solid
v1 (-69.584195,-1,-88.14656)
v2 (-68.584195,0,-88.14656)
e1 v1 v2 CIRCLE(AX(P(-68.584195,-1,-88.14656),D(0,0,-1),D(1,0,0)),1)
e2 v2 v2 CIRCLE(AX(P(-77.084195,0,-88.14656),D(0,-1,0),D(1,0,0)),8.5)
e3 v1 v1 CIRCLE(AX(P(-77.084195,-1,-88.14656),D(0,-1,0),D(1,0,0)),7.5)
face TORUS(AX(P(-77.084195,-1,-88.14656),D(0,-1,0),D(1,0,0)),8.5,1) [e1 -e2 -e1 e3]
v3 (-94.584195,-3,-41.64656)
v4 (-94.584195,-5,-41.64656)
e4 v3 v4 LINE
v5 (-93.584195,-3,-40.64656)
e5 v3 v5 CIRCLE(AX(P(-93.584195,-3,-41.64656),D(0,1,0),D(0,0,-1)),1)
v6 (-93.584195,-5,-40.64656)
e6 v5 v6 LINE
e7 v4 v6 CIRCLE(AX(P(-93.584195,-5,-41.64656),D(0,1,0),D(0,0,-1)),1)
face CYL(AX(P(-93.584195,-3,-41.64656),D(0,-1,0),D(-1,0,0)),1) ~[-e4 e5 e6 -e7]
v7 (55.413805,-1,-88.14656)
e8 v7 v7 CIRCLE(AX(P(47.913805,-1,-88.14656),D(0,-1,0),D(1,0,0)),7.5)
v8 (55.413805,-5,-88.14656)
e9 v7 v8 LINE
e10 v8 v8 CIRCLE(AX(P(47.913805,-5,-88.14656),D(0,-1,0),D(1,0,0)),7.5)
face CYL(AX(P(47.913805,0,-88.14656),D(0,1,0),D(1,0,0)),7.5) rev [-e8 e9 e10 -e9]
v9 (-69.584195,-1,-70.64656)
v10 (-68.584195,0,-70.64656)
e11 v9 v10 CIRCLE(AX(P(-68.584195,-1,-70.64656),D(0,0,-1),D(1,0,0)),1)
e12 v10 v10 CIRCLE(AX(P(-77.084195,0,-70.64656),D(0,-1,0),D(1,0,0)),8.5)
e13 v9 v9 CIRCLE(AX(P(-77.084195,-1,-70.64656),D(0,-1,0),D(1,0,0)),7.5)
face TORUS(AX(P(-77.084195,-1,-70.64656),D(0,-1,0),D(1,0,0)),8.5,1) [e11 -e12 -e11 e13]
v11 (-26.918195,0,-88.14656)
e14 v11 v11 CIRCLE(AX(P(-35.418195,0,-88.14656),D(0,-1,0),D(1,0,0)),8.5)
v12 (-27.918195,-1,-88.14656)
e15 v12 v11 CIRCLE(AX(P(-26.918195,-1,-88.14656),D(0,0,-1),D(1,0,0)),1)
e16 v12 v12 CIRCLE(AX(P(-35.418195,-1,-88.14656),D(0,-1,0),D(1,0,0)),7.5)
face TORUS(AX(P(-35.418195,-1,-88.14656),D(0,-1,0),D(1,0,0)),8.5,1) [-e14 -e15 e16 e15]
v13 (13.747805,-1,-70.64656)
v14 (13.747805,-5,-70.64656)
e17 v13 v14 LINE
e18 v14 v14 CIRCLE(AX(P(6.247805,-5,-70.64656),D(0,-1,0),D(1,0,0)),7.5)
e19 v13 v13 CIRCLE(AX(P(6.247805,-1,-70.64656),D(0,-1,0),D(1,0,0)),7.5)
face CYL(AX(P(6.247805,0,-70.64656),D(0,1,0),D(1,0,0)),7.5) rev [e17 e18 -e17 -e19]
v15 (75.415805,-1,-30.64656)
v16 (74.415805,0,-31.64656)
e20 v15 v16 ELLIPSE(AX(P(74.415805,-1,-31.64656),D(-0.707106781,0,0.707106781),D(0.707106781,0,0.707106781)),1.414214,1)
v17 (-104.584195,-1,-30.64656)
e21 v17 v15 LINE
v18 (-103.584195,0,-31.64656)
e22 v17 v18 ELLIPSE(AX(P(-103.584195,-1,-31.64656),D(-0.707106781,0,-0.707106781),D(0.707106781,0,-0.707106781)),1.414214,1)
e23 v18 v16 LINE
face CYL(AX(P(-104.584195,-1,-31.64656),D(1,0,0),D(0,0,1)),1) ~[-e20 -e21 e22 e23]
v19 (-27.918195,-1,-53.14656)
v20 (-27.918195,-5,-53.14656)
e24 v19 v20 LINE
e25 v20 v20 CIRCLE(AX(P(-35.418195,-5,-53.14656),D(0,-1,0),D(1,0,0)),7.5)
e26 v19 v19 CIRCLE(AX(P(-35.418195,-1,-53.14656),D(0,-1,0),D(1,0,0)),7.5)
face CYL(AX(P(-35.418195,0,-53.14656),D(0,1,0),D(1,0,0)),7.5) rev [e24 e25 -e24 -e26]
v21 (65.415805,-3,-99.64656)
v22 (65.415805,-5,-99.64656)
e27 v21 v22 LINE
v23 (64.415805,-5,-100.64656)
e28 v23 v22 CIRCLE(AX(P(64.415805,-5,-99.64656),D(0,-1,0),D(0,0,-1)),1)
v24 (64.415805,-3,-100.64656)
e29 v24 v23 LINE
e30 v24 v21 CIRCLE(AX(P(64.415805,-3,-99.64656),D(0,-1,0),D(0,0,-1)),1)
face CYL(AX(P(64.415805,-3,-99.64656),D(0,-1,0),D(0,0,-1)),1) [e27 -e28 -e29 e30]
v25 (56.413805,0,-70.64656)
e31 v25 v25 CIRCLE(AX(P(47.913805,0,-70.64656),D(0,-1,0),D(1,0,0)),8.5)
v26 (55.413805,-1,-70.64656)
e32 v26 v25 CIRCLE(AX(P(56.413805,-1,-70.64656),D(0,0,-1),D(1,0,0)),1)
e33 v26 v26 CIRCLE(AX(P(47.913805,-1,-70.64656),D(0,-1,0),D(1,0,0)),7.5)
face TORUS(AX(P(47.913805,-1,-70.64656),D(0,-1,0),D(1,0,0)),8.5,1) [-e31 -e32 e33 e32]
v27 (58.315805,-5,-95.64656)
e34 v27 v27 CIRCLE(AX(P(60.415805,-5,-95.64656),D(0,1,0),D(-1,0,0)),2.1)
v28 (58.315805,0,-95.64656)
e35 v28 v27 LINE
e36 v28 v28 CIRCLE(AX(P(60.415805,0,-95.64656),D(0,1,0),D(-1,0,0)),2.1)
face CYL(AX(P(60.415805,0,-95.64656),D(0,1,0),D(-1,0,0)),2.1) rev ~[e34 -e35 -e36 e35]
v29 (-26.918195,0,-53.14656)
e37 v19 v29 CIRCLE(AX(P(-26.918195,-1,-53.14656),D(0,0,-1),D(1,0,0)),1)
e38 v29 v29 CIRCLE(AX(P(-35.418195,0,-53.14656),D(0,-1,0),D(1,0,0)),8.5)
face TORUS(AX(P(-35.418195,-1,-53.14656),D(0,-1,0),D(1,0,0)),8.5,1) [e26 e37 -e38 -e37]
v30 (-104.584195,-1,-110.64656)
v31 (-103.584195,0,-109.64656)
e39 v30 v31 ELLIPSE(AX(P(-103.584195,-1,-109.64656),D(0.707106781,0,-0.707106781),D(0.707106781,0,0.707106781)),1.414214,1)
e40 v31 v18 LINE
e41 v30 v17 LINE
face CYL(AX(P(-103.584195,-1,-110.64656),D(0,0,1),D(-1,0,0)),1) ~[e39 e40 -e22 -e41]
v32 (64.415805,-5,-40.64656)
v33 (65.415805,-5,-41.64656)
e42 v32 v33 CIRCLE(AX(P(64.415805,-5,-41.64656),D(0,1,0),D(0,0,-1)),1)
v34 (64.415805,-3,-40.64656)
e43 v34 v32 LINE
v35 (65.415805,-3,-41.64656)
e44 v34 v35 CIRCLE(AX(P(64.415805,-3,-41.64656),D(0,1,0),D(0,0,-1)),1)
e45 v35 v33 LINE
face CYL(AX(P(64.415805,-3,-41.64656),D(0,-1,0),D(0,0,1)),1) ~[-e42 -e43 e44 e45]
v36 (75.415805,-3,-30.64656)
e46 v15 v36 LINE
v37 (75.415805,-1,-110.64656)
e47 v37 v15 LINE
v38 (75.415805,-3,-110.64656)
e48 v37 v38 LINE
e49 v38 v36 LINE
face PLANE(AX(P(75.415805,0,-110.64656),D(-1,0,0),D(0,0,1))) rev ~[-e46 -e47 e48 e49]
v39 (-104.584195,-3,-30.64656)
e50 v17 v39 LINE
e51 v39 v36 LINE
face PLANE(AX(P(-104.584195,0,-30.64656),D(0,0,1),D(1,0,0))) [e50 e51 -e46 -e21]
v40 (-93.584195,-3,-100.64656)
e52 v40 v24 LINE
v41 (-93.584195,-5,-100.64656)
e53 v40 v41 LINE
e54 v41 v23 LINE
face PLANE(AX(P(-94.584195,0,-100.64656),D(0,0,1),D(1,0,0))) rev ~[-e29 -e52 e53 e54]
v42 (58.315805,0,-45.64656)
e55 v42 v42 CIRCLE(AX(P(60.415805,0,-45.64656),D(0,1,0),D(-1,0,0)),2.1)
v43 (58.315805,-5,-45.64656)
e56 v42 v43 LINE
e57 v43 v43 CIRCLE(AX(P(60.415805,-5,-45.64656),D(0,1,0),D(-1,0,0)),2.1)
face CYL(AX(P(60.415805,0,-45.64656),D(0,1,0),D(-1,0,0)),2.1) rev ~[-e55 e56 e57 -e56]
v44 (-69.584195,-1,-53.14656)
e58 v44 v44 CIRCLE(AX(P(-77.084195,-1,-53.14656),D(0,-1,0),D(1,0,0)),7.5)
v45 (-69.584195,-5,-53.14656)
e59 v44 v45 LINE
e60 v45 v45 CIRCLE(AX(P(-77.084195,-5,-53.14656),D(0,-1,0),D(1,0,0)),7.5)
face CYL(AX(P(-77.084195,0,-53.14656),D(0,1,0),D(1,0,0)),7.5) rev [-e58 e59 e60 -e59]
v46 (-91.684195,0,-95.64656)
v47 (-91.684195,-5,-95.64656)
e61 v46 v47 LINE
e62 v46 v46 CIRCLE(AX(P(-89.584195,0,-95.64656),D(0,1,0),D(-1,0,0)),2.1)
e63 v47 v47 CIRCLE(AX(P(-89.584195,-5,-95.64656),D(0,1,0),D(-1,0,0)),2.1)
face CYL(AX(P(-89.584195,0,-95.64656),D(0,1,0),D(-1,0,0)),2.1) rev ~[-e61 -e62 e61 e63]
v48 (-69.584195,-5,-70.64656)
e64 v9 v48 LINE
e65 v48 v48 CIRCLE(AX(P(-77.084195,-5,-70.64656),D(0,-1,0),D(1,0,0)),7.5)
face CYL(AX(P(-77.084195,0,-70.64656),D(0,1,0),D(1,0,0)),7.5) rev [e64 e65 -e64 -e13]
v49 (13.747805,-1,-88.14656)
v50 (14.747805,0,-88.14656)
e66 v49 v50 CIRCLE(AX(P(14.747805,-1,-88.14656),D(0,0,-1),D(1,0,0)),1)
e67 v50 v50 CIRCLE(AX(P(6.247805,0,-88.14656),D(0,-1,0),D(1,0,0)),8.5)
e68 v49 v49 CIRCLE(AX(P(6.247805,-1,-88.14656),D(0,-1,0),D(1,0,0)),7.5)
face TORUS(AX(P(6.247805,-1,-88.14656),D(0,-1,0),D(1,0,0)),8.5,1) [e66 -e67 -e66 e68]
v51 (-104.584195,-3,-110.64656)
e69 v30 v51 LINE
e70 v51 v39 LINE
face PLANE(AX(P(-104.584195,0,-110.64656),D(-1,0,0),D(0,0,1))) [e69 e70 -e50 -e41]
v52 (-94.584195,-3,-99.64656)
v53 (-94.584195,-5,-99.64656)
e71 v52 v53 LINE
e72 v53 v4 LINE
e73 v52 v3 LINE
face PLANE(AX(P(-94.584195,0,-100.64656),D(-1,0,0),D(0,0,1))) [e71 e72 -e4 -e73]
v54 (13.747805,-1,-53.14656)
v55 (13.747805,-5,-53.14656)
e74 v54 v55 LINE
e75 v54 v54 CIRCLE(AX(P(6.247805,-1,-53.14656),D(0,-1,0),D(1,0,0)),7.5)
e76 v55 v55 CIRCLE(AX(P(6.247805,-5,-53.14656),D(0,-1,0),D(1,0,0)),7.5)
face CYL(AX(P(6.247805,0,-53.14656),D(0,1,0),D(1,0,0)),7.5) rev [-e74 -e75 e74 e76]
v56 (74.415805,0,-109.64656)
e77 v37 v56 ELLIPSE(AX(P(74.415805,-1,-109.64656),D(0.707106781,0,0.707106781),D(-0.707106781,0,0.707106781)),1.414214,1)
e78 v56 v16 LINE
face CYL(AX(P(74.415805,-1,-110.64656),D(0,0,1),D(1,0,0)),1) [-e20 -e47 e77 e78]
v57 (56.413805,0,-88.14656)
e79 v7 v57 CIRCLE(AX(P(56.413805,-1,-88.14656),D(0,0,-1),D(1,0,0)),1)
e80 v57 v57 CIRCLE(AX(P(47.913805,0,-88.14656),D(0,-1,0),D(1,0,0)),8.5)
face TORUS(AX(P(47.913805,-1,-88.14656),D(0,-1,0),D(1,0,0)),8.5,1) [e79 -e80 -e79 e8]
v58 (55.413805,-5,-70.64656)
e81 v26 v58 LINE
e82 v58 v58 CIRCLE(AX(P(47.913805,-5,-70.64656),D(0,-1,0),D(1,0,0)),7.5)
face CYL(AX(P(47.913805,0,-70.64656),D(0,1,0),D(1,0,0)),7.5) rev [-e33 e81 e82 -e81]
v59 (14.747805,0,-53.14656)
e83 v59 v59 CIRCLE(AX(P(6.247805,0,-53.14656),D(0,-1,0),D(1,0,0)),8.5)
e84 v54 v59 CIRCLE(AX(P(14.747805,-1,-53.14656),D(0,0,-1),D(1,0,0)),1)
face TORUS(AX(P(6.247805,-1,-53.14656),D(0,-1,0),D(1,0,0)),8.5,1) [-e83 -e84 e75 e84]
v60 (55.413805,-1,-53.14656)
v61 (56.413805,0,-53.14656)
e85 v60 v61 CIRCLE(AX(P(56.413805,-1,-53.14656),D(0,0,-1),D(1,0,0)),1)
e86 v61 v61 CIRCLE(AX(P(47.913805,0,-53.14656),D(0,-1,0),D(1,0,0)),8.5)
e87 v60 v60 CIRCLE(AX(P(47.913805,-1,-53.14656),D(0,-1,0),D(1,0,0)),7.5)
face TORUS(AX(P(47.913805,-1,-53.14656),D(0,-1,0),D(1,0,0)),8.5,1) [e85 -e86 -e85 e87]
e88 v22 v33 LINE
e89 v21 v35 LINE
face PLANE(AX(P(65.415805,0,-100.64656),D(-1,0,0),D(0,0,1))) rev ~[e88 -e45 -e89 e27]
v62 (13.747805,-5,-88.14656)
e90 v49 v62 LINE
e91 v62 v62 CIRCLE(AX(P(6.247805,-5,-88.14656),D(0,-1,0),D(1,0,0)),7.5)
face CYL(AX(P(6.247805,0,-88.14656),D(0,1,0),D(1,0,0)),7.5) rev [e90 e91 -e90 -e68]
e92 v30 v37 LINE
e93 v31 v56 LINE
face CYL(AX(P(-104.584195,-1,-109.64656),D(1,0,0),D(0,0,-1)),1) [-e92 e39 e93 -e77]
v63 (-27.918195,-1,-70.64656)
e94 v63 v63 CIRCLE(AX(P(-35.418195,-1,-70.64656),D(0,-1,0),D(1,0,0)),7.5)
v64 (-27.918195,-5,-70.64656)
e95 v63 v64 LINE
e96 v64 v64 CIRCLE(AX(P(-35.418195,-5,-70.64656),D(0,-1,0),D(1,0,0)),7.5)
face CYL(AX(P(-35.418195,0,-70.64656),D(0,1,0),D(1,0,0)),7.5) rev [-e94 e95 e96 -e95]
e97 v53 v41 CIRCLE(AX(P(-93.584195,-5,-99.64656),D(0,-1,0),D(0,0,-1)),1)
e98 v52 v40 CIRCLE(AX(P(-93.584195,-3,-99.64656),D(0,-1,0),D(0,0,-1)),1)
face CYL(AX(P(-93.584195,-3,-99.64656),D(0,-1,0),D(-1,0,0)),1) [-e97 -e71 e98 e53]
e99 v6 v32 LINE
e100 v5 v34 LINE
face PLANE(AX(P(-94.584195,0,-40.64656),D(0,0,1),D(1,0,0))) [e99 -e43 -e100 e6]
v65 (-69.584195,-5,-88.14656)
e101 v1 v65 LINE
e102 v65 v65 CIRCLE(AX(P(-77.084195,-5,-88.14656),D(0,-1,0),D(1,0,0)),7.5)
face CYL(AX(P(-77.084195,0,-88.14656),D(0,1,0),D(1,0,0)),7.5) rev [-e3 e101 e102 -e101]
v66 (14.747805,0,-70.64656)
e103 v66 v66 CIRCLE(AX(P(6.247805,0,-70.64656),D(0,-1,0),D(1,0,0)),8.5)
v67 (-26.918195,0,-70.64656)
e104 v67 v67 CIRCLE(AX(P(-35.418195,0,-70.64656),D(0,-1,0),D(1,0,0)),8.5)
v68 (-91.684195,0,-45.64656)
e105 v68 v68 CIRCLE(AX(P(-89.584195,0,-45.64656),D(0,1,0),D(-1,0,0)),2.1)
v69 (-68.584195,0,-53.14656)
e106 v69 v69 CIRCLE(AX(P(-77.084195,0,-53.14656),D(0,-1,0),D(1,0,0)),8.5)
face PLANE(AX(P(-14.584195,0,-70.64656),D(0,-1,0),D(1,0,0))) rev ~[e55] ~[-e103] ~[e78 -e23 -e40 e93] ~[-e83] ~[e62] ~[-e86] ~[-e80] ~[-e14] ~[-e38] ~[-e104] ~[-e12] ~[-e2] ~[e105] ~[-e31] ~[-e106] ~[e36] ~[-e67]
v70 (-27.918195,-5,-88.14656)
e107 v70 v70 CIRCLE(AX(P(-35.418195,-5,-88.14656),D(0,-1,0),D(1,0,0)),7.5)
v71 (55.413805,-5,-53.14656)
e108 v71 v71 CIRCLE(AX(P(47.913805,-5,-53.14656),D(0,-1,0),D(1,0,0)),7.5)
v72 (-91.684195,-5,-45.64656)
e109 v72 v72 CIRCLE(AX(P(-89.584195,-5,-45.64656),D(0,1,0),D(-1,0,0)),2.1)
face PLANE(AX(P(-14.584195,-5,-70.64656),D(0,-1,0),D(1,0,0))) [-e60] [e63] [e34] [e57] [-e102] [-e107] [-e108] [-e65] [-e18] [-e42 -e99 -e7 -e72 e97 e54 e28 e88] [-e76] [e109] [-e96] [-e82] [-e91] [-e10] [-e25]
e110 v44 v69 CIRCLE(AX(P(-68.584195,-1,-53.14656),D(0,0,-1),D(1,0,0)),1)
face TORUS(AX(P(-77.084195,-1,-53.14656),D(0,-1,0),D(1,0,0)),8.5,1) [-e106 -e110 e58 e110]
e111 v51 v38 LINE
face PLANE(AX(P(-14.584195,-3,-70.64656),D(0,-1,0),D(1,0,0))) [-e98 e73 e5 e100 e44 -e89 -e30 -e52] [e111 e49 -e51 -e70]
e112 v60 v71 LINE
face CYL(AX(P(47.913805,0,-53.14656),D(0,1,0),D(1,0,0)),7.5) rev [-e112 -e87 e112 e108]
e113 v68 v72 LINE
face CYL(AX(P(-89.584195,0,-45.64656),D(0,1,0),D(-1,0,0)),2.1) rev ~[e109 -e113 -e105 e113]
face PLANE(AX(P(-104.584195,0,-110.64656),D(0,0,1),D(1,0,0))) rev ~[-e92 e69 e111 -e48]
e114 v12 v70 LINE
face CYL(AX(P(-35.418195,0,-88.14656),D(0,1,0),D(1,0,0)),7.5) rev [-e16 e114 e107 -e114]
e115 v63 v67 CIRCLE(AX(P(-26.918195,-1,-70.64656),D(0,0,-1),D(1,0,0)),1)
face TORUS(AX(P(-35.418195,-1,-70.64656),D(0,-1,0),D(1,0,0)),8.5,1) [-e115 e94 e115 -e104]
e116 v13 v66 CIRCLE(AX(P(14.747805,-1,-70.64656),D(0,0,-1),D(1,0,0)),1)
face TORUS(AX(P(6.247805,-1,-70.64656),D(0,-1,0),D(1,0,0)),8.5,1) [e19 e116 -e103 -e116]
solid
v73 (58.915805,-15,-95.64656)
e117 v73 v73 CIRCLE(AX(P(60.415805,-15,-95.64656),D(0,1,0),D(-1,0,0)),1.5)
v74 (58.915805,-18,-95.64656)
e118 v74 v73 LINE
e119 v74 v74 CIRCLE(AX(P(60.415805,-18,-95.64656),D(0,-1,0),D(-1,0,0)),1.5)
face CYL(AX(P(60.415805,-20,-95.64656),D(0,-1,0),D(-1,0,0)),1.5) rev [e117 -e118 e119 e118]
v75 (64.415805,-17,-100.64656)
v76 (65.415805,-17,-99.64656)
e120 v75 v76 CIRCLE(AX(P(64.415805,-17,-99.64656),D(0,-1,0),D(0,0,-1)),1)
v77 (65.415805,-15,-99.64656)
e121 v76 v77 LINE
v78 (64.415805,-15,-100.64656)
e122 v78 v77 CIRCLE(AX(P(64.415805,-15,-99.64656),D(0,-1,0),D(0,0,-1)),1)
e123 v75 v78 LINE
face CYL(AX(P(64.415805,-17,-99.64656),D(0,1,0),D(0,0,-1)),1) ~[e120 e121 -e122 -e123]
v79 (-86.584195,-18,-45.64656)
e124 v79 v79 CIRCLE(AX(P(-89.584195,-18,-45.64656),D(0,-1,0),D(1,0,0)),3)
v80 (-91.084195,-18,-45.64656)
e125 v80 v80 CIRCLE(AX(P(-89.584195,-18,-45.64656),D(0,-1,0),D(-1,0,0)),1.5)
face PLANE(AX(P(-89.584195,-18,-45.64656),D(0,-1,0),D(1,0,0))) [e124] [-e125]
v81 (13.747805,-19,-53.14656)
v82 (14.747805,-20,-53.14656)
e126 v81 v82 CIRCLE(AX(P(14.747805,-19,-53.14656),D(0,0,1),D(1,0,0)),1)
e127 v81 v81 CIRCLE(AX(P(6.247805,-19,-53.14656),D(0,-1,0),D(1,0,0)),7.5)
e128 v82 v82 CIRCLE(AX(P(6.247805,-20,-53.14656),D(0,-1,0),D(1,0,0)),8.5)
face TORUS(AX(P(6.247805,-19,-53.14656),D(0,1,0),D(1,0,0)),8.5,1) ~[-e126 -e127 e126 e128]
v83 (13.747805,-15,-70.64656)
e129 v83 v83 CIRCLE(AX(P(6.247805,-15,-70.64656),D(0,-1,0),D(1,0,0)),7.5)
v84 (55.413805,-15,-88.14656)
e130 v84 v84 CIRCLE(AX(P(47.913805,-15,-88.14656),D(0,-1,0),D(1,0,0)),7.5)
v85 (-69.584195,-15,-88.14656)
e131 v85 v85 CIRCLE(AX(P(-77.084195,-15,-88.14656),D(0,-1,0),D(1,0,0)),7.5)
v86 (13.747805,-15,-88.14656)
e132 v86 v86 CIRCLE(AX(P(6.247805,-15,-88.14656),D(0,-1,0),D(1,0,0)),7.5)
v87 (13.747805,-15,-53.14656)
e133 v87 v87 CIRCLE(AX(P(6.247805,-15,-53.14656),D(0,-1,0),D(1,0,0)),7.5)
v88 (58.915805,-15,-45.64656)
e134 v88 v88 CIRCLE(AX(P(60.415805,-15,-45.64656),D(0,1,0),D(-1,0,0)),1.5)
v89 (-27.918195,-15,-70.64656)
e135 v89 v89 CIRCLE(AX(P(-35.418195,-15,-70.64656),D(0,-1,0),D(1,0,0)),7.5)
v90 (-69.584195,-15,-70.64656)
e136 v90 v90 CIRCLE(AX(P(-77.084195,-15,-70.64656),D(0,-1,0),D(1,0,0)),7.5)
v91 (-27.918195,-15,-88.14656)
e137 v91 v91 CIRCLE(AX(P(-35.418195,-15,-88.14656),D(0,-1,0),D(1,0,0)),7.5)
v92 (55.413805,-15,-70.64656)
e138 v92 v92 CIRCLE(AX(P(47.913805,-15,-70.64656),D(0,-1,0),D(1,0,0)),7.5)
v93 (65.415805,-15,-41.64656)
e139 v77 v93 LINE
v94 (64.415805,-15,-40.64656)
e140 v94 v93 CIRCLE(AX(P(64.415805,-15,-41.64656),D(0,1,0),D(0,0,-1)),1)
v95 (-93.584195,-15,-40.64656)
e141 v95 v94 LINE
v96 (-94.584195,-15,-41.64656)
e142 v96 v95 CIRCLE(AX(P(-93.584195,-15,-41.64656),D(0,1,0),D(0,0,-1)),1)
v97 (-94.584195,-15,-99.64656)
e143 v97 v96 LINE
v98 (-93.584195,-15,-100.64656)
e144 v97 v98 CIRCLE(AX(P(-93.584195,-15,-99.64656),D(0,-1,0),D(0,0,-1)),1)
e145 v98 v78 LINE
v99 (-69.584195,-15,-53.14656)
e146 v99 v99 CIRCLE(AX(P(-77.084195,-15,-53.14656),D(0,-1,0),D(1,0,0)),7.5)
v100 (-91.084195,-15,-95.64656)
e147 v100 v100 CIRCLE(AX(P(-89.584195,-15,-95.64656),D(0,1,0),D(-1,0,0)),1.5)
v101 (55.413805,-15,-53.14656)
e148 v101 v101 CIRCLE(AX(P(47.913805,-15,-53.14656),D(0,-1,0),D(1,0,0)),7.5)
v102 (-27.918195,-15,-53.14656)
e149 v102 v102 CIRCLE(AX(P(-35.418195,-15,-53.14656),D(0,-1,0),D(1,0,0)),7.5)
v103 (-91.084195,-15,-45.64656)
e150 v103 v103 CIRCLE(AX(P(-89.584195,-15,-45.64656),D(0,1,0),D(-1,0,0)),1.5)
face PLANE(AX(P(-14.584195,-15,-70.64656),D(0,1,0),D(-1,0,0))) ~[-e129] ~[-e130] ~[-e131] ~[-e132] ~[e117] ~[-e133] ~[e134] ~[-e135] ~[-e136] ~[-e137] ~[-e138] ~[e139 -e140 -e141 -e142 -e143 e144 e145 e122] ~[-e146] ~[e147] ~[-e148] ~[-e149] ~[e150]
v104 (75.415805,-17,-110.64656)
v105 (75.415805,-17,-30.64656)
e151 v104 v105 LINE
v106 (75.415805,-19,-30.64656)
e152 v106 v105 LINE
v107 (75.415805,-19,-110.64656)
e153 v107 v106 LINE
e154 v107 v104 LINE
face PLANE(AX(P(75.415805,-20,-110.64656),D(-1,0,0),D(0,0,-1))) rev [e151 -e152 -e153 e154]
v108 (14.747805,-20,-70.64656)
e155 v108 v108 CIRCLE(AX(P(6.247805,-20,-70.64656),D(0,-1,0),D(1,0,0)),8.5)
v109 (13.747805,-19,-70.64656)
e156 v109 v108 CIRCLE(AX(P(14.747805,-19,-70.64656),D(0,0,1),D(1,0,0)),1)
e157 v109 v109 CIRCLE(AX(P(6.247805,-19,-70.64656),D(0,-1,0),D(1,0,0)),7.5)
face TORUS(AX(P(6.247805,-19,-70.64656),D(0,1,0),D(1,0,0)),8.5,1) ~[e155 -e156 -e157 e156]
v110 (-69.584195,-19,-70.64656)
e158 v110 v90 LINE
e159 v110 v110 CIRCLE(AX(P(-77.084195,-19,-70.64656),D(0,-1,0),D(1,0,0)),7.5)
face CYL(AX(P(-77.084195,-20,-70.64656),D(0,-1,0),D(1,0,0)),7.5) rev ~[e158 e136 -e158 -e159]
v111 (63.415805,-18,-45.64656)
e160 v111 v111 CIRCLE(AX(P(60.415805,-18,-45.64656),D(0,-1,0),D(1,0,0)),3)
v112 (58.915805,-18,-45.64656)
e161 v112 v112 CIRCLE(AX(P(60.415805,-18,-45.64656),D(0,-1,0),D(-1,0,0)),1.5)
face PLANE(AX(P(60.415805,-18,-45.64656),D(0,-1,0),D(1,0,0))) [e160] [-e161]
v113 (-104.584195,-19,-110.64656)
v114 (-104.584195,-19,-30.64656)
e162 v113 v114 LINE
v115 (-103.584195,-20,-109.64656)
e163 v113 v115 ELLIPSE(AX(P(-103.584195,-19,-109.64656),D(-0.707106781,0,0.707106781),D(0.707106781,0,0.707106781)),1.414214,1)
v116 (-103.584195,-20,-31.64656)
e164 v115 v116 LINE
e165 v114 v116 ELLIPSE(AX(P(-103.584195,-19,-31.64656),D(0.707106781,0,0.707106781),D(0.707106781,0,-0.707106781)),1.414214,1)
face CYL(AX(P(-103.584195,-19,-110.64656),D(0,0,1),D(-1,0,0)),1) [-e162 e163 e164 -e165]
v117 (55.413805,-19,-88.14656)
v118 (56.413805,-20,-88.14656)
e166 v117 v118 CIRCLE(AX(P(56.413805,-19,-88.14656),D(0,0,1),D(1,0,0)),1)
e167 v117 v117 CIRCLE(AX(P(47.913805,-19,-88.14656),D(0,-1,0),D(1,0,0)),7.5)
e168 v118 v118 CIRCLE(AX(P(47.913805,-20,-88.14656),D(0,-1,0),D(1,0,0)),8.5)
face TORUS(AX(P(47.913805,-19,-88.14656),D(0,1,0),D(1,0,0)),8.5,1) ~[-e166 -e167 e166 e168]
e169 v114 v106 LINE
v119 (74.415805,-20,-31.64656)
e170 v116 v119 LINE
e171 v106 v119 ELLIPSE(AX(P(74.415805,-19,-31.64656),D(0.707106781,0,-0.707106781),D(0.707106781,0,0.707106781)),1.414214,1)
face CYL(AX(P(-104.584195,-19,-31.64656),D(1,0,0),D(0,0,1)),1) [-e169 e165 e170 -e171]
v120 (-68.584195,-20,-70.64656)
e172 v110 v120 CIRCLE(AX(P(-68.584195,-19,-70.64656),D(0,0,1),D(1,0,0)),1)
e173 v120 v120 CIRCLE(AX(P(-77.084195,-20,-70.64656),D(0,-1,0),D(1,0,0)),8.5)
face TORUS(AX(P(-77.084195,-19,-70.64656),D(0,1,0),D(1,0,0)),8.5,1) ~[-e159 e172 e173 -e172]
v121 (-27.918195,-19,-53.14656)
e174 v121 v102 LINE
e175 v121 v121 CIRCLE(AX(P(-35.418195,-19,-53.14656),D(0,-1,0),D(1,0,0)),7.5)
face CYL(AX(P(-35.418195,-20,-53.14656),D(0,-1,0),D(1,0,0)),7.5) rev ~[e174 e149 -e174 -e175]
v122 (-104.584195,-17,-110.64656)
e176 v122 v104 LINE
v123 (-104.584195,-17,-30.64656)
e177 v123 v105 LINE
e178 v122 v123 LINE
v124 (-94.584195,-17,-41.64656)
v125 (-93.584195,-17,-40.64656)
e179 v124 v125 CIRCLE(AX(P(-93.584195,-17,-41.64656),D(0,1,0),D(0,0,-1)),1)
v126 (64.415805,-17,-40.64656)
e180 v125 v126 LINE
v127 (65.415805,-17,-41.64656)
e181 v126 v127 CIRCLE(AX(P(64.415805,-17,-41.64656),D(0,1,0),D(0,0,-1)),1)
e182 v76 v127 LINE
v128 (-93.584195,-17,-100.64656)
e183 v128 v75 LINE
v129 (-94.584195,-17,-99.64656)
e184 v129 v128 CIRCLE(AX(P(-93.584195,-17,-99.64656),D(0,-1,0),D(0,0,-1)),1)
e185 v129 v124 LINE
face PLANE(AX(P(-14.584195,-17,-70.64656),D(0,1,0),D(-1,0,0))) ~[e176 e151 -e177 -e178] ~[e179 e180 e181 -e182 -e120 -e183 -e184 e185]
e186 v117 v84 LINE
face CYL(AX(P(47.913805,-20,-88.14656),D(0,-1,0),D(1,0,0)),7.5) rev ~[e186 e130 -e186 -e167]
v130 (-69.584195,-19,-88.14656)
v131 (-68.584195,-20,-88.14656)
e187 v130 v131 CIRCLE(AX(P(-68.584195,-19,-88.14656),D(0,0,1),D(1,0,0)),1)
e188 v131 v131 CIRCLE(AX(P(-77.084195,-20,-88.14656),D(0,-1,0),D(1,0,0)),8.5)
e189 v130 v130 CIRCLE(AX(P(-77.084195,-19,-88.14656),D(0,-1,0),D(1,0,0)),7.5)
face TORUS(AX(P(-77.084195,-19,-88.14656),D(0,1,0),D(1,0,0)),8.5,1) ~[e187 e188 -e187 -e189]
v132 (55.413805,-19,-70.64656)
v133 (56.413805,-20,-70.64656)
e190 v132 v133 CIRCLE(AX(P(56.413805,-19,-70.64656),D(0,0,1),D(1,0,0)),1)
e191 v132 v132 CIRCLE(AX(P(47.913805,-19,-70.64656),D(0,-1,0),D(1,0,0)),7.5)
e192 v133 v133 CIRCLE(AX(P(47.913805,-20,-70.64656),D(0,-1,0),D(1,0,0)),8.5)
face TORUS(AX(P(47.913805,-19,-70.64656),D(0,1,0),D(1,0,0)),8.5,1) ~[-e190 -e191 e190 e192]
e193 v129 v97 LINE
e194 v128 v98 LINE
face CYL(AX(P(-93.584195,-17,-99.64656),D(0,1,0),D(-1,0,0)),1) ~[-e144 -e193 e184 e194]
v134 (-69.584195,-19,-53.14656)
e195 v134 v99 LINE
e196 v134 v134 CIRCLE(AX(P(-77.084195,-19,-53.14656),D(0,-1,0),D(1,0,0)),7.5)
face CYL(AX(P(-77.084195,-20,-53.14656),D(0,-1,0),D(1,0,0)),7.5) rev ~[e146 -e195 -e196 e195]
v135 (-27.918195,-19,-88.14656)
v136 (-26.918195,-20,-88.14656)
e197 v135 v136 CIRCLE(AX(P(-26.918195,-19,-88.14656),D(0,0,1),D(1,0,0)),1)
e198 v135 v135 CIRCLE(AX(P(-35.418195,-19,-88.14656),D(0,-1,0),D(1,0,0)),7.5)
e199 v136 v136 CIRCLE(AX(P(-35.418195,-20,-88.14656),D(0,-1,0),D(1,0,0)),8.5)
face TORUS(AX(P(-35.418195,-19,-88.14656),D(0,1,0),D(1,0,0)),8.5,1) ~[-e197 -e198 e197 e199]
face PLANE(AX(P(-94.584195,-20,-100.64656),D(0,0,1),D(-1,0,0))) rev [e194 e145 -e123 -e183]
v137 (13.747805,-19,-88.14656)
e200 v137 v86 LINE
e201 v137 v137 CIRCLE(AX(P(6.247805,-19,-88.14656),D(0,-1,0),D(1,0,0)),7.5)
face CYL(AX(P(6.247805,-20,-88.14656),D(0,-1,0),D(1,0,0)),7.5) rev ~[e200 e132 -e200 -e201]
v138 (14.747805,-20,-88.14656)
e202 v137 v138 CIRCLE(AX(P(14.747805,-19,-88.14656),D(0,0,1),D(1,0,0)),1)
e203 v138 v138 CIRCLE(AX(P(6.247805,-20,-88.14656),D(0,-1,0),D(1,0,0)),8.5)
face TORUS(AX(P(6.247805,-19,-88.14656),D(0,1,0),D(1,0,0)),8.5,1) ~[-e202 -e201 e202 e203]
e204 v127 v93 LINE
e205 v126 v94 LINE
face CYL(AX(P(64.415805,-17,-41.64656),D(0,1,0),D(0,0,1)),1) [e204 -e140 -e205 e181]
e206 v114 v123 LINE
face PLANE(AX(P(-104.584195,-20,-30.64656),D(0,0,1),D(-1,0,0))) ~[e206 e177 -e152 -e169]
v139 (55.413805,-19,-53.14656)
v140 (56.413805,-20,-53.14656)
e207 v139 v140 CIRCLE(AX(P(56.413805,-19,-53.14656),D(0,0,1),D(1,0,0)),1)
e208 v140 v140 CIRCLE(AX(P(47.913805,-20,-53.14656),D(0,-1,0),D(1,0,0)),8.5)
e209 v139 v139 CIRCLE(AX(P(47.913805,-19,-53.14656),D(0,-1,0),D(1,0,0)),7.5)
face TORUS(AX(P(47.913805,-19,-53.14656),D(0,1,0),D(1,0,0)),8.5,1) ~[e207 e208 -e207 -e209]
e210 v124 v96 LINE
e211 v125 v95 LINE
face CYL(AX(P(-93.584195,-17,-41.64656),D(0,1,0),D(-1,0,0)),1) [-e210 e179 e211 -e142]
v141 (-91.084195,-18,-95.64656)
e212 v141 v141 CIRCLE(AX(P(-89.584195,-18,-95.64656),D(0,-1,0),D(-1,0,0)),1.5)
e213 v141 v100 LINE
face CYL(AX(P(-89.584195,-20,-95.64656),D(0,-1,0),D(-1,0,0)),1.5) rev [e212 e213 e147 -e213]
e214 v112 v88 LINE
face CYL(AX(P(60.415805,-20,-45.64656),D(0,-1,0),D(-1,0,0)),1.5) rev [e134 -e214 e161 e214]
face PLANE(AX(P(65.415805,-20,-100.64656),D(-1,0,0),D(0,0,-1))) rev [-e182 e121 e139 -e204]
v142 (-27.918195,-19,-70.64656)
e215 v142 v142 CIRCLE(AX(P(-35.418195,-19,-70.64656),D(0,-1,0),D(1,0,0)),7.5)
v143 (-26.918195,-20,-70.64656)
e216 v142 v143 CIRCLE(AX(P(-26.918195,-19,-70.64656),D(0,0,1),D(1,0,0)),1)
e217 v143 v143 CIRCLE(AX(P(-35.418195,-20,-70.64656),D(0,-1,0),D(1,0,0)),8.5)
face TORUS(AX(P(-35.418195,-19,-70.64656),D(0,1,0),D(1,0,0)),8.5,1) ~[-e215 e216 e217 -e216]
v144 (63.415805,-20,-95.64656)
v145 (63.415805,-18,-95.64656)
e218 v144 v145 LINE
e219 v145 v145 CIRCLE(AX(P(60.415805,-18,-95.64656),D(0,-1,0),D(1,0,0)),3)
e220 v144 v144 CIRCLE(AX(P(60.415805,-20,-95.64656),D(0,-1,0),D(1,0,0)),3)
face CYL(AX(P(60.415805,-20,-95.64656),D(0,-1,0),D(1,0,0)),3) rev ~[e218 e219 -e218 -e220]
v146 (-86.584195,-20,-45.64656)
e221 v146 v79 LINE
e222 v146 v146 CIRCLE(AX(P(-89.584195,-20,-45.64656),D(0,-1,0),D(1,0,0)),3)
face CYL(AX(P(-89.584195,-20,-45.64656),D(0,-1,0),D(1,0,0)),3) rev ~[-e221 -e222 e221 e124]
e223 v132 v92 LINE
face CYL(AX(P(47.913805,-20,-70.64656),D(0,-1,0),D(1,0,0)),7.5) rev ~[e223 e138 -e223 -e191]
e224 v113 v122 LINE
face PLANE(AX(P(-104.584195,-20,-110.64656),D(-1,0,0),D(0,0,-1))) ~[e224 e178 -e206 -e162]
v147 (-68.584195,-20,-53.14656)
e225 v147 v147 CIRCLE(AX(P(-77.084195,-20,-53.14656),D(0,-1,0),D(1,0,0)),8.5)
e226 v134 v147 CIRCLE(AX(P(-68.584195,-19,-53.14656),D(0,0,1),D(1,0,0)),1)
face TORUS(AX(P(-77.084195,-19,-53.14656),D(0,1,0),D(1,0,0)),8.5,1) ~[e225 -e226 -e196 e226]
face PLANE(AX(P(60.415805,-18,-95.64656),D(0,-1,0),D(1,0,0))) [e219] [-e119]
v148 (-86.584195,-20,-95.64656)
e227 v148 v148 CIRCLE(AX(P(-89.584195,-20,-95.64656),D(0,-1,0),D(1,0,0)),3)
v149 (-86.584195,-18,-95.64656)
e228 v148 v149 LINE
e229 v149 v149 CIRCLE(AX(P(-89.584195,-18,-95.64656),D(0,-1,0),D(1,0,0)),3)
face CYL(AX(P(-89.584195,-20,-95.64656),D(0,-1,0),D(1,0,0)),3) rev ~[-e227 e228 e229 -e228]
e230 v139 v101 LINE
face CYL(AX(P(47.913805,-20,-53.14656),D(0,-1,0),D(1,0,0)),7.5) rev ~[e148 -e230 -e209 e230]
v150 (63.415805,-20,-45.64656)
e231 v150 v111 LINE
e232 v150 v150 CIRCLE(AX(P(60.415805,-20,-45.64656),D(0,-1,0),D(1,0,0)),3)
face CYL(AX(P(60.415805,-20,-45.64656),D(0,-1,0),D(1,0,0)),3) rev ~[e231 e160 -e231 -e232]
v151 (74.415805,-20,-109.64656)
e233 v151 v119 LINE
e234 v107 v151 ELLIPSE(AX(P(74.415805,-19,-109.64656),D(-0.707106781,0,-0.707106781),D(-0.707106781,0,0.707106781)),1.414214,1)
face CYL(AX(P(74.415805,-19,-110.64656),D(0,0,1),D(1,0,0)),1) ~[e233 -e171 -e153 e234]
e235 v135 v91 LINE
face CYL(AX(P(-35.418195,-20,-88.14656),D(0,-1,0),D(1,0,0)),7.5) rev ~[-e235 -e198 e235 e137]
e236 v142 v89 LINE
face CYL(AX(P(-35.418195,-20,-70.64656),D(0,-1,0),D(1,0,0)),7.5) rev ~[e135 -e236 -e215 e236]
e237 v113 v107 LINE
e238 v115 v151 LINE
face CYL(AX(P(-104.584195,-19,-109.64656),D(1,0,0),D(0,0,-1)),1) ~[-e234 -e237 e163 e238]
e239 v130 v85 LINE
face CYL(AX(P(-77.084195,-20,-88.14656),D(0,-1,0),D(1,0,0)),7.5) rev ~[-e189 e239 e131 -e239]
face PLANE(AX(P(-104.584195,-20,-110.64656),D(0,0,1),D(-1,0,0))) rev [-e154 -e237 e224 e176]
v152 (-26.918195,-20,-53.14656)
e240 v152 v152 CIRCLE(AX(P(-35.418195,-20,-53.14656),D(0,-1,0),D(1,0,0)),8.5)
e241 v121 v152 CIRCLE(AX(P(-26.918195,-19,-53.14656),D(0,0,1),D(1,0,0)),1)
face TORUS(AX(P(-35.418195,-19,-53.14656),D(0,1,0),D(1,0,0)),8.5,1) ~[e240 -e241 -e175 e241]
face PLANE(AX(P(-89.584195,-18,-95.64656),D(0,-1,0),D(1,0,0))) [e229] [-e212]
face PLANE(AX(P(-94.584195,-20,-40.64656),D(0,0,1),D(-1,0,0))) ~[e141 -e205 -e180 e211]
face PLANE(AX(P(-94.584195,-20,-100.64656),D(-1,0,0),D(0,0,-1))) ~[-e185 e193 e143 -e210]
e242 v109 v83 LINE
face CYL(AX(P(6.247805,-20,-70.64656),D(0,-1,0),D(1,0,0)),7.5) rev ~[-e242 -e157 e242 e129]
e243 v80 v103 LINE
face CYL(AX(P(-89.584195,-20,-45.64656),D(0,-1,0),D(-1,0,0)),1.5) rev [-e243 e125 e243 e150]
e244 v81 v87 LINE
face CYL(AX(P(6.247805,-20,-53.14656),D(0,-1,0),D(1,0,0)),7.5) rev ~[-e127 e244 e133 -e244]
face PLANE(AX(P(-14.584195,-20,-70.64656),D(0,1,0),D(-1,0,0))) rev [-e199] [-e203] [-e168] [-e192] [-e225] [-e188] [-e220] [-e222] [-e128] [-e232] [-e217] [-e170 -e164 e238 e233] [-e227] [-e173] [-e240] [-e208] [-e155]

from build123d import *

# Parameters (mm, degrees)
F0_W      = 180
F0_H      = 80
F0_W_2    = 160
F0_H_2    = 60
F2_DEPTH  = 3
F1_W      = 160
F1_H      = 60
F1_R      = 7.5
F3_DEPTH  = 5
F4_R      = 1
F5_R      = 1
F6_R      = 1.5
F7_DEPTH  = 5.001
F10_R     = 2.1
F11_DEPTH = 5
F12_R     = 3
F13_DEPTH = 2


with BuildPart() as f2:
    # F0 (on Front) → F2 (new body)
    with BuildSketch(Plane.XZ):
        with Locations((-14.5841947198, -70.646559976)):
            Rectangle(F0_W, F0_H)
        with Locations((-14.5841947198, -70.646559976)):
            Rectangle(F0_W_2, F0_H_2, mode=Mode.SUBTRACT)
    extrude(amount=F2_DEPTH)

    # F1 (on face) → F3 (join)
    with BuildSketch(Plane.XZ):
        with Locations((-14.5841947198, -70.646559976)):
            Rectangle(F1_W, F1_H)
        with Locations((-77.0841947198, -88.146559976)):
            Circle(F1_R, mode=Mode.SUBTRACT)
        with Locations((-77.0841947198, -70.646559976)):
            Circle(F1_R, mode=Mode.SUBTRACT)
        with Locations((-35.4181947198, -88.146559976)):
            Circle(F1_R, mode=Mode.SUBTRACT)
        with Locations((-35.4181947198, -70.646559976)):
            Circle(F1_R, mode=Mode.SUBTRACT)
        with Locations((6.2478052802, -88.146559976)):
            Circle(F1_R, mode=Mode.SUBTRACT)
        with Locations((6.2478052802, -70.646559976)):
            Circle(F1_R, mode=Mode.SUBTRACT)
        with Locations((47.9138052802, -88.146559976)):
            Circle(F1_R, mode=Mode.SUBTRACT)
        with Locations((47.9138052802, -70.646559976)):
            Circle(F1_R, mode=Mode.SUBTRACT)
        with Locations((-77.0841947198, -53.146559976)):
            Circle(F1_R, mode=Mode.SUBTRACT)
        with Locations((-35.4181947198, -53.146559976)):
            Circle(F1_R, mode=Mode.SUBTRACT)
        with Locations((6.2478052802, -53.146559976)):
            Circle(F1_R, mode=Mode.SUBTRACT)
        with Locations((47.9138052802, -53.146559976)):
            Circle(F1_R, mode=Mode.SUBTRACT)
    extrude(amount=F3_DEPTH)

    # F4
    f4_edges = [f2.edges().sort_by_distance(p)[0] for p in [
        (65.415805, -4, -40.64656),
        (65.415805, -4, -100.64656),
        (-94.584195, -4, -100.64656),
        (-94.584195, -4, -40.64656),
    ]]
    fillet(f4_edges, radius=F4_R)

    # F5
    f5_edges = [f2.edges().sort_by_distance(p)[0] for p in [
        (75.415805, 0, -70.64656),
        (-14.584195, 0, -30.64656),
        (-104.584195, 0, -70.64656),
        (-14.584195, 0, -110.64656),
        (-84.584195, 0, -53.14656),
        (-42.918195, 0, -53.14656),
        (-1.252195, 0, -53.14656),
        (40.413805, 0, -53.14656),
        (-84.584195, 0, -88.14656),
        (-84.584195, 0, -70.64656),
        (-42.918195, 0, -88.14656),
        (-42.918195, 0, -70.64656),
        (-1.252195, 0, -88.14656),
        (-1.252195, 0, -70.64656),
        (40.413805, 0, -88.14656),
        (40.413805, 0, -70.64656),
    ]]
    fillet(f5_edges, radius=F5_R)

    # F6 (on face) → F7 (cut, through all)
    with BuildSketch(Plane(origin=(0, 0, 0), x_dir=(-1, 0, 0), z_dir=(0, 1, 0))):
        with Locations((-60.4158052802, -45.646559976)):
            Circle(F6_R)
        with Locations((89.5841947198, -45.646559976)):
            Circle(F6_R)
        with Locations((-60.4158052802, -95.646559976)):
            Circle(F6_R)
        with Locations((89.5841947198, -95.646559976)):
            Circle(F6_R)
    extrude(amount=-F7_DEPTH, mode=Mode.SUBTRACT)


with BuildPart() as f9_1:
    # F9: instance of F2
    add(f2.part.mirror(Plane(origin=(-14.58391009, -10, -70.646559976), x_dir=(1, 0, 0), z_dir=(0, -1, 0))))

    # F12 (on face) → F13 (cut)
    with BuildSketch(Plane.XZ.offset(20)):
        with Locations((-89.5841947198, -45.646559976)):
            Circle(F12_R)
        with Locations((60.4158052802, -45.646559976)):
            Circle(F12_R)
        with Locations((-89.5841947198, -95.646559976)):
            Circle(F12_R)
        with Locations((60.4158052802, -95.646559976)):
            Circle(F12_R)
    extrude(amount=-F13_DEPTH, mode=Mode.SUBTRACT)


with BuildPart() as f2_1:
    add(f2.part)

    # F10 (on face) → F11 (cut, through all)
    with BuildSketch(Plane(origin=(0, 0, 0), x_dir=(-1, 0, 0), z_dir=(0, 1, 0))):
        with Locations((-60.4158052802, -45.646559976)):
            Circle(F10_R)
        with Locations((89.5841947198, -45.646559976)):
            Circle(F10_R)
        with Locations((-60.4158052802, -95.646559976)):
            Circle(F10_R)
        with Locations((89.5841947198, -95.646559976)):
            Circle(F10_R)
    extrude(amount=-F11_DEPTH, mode=Mode.SUBTRACT)


solid = Compound([f9_1.part, f2_1.part])
